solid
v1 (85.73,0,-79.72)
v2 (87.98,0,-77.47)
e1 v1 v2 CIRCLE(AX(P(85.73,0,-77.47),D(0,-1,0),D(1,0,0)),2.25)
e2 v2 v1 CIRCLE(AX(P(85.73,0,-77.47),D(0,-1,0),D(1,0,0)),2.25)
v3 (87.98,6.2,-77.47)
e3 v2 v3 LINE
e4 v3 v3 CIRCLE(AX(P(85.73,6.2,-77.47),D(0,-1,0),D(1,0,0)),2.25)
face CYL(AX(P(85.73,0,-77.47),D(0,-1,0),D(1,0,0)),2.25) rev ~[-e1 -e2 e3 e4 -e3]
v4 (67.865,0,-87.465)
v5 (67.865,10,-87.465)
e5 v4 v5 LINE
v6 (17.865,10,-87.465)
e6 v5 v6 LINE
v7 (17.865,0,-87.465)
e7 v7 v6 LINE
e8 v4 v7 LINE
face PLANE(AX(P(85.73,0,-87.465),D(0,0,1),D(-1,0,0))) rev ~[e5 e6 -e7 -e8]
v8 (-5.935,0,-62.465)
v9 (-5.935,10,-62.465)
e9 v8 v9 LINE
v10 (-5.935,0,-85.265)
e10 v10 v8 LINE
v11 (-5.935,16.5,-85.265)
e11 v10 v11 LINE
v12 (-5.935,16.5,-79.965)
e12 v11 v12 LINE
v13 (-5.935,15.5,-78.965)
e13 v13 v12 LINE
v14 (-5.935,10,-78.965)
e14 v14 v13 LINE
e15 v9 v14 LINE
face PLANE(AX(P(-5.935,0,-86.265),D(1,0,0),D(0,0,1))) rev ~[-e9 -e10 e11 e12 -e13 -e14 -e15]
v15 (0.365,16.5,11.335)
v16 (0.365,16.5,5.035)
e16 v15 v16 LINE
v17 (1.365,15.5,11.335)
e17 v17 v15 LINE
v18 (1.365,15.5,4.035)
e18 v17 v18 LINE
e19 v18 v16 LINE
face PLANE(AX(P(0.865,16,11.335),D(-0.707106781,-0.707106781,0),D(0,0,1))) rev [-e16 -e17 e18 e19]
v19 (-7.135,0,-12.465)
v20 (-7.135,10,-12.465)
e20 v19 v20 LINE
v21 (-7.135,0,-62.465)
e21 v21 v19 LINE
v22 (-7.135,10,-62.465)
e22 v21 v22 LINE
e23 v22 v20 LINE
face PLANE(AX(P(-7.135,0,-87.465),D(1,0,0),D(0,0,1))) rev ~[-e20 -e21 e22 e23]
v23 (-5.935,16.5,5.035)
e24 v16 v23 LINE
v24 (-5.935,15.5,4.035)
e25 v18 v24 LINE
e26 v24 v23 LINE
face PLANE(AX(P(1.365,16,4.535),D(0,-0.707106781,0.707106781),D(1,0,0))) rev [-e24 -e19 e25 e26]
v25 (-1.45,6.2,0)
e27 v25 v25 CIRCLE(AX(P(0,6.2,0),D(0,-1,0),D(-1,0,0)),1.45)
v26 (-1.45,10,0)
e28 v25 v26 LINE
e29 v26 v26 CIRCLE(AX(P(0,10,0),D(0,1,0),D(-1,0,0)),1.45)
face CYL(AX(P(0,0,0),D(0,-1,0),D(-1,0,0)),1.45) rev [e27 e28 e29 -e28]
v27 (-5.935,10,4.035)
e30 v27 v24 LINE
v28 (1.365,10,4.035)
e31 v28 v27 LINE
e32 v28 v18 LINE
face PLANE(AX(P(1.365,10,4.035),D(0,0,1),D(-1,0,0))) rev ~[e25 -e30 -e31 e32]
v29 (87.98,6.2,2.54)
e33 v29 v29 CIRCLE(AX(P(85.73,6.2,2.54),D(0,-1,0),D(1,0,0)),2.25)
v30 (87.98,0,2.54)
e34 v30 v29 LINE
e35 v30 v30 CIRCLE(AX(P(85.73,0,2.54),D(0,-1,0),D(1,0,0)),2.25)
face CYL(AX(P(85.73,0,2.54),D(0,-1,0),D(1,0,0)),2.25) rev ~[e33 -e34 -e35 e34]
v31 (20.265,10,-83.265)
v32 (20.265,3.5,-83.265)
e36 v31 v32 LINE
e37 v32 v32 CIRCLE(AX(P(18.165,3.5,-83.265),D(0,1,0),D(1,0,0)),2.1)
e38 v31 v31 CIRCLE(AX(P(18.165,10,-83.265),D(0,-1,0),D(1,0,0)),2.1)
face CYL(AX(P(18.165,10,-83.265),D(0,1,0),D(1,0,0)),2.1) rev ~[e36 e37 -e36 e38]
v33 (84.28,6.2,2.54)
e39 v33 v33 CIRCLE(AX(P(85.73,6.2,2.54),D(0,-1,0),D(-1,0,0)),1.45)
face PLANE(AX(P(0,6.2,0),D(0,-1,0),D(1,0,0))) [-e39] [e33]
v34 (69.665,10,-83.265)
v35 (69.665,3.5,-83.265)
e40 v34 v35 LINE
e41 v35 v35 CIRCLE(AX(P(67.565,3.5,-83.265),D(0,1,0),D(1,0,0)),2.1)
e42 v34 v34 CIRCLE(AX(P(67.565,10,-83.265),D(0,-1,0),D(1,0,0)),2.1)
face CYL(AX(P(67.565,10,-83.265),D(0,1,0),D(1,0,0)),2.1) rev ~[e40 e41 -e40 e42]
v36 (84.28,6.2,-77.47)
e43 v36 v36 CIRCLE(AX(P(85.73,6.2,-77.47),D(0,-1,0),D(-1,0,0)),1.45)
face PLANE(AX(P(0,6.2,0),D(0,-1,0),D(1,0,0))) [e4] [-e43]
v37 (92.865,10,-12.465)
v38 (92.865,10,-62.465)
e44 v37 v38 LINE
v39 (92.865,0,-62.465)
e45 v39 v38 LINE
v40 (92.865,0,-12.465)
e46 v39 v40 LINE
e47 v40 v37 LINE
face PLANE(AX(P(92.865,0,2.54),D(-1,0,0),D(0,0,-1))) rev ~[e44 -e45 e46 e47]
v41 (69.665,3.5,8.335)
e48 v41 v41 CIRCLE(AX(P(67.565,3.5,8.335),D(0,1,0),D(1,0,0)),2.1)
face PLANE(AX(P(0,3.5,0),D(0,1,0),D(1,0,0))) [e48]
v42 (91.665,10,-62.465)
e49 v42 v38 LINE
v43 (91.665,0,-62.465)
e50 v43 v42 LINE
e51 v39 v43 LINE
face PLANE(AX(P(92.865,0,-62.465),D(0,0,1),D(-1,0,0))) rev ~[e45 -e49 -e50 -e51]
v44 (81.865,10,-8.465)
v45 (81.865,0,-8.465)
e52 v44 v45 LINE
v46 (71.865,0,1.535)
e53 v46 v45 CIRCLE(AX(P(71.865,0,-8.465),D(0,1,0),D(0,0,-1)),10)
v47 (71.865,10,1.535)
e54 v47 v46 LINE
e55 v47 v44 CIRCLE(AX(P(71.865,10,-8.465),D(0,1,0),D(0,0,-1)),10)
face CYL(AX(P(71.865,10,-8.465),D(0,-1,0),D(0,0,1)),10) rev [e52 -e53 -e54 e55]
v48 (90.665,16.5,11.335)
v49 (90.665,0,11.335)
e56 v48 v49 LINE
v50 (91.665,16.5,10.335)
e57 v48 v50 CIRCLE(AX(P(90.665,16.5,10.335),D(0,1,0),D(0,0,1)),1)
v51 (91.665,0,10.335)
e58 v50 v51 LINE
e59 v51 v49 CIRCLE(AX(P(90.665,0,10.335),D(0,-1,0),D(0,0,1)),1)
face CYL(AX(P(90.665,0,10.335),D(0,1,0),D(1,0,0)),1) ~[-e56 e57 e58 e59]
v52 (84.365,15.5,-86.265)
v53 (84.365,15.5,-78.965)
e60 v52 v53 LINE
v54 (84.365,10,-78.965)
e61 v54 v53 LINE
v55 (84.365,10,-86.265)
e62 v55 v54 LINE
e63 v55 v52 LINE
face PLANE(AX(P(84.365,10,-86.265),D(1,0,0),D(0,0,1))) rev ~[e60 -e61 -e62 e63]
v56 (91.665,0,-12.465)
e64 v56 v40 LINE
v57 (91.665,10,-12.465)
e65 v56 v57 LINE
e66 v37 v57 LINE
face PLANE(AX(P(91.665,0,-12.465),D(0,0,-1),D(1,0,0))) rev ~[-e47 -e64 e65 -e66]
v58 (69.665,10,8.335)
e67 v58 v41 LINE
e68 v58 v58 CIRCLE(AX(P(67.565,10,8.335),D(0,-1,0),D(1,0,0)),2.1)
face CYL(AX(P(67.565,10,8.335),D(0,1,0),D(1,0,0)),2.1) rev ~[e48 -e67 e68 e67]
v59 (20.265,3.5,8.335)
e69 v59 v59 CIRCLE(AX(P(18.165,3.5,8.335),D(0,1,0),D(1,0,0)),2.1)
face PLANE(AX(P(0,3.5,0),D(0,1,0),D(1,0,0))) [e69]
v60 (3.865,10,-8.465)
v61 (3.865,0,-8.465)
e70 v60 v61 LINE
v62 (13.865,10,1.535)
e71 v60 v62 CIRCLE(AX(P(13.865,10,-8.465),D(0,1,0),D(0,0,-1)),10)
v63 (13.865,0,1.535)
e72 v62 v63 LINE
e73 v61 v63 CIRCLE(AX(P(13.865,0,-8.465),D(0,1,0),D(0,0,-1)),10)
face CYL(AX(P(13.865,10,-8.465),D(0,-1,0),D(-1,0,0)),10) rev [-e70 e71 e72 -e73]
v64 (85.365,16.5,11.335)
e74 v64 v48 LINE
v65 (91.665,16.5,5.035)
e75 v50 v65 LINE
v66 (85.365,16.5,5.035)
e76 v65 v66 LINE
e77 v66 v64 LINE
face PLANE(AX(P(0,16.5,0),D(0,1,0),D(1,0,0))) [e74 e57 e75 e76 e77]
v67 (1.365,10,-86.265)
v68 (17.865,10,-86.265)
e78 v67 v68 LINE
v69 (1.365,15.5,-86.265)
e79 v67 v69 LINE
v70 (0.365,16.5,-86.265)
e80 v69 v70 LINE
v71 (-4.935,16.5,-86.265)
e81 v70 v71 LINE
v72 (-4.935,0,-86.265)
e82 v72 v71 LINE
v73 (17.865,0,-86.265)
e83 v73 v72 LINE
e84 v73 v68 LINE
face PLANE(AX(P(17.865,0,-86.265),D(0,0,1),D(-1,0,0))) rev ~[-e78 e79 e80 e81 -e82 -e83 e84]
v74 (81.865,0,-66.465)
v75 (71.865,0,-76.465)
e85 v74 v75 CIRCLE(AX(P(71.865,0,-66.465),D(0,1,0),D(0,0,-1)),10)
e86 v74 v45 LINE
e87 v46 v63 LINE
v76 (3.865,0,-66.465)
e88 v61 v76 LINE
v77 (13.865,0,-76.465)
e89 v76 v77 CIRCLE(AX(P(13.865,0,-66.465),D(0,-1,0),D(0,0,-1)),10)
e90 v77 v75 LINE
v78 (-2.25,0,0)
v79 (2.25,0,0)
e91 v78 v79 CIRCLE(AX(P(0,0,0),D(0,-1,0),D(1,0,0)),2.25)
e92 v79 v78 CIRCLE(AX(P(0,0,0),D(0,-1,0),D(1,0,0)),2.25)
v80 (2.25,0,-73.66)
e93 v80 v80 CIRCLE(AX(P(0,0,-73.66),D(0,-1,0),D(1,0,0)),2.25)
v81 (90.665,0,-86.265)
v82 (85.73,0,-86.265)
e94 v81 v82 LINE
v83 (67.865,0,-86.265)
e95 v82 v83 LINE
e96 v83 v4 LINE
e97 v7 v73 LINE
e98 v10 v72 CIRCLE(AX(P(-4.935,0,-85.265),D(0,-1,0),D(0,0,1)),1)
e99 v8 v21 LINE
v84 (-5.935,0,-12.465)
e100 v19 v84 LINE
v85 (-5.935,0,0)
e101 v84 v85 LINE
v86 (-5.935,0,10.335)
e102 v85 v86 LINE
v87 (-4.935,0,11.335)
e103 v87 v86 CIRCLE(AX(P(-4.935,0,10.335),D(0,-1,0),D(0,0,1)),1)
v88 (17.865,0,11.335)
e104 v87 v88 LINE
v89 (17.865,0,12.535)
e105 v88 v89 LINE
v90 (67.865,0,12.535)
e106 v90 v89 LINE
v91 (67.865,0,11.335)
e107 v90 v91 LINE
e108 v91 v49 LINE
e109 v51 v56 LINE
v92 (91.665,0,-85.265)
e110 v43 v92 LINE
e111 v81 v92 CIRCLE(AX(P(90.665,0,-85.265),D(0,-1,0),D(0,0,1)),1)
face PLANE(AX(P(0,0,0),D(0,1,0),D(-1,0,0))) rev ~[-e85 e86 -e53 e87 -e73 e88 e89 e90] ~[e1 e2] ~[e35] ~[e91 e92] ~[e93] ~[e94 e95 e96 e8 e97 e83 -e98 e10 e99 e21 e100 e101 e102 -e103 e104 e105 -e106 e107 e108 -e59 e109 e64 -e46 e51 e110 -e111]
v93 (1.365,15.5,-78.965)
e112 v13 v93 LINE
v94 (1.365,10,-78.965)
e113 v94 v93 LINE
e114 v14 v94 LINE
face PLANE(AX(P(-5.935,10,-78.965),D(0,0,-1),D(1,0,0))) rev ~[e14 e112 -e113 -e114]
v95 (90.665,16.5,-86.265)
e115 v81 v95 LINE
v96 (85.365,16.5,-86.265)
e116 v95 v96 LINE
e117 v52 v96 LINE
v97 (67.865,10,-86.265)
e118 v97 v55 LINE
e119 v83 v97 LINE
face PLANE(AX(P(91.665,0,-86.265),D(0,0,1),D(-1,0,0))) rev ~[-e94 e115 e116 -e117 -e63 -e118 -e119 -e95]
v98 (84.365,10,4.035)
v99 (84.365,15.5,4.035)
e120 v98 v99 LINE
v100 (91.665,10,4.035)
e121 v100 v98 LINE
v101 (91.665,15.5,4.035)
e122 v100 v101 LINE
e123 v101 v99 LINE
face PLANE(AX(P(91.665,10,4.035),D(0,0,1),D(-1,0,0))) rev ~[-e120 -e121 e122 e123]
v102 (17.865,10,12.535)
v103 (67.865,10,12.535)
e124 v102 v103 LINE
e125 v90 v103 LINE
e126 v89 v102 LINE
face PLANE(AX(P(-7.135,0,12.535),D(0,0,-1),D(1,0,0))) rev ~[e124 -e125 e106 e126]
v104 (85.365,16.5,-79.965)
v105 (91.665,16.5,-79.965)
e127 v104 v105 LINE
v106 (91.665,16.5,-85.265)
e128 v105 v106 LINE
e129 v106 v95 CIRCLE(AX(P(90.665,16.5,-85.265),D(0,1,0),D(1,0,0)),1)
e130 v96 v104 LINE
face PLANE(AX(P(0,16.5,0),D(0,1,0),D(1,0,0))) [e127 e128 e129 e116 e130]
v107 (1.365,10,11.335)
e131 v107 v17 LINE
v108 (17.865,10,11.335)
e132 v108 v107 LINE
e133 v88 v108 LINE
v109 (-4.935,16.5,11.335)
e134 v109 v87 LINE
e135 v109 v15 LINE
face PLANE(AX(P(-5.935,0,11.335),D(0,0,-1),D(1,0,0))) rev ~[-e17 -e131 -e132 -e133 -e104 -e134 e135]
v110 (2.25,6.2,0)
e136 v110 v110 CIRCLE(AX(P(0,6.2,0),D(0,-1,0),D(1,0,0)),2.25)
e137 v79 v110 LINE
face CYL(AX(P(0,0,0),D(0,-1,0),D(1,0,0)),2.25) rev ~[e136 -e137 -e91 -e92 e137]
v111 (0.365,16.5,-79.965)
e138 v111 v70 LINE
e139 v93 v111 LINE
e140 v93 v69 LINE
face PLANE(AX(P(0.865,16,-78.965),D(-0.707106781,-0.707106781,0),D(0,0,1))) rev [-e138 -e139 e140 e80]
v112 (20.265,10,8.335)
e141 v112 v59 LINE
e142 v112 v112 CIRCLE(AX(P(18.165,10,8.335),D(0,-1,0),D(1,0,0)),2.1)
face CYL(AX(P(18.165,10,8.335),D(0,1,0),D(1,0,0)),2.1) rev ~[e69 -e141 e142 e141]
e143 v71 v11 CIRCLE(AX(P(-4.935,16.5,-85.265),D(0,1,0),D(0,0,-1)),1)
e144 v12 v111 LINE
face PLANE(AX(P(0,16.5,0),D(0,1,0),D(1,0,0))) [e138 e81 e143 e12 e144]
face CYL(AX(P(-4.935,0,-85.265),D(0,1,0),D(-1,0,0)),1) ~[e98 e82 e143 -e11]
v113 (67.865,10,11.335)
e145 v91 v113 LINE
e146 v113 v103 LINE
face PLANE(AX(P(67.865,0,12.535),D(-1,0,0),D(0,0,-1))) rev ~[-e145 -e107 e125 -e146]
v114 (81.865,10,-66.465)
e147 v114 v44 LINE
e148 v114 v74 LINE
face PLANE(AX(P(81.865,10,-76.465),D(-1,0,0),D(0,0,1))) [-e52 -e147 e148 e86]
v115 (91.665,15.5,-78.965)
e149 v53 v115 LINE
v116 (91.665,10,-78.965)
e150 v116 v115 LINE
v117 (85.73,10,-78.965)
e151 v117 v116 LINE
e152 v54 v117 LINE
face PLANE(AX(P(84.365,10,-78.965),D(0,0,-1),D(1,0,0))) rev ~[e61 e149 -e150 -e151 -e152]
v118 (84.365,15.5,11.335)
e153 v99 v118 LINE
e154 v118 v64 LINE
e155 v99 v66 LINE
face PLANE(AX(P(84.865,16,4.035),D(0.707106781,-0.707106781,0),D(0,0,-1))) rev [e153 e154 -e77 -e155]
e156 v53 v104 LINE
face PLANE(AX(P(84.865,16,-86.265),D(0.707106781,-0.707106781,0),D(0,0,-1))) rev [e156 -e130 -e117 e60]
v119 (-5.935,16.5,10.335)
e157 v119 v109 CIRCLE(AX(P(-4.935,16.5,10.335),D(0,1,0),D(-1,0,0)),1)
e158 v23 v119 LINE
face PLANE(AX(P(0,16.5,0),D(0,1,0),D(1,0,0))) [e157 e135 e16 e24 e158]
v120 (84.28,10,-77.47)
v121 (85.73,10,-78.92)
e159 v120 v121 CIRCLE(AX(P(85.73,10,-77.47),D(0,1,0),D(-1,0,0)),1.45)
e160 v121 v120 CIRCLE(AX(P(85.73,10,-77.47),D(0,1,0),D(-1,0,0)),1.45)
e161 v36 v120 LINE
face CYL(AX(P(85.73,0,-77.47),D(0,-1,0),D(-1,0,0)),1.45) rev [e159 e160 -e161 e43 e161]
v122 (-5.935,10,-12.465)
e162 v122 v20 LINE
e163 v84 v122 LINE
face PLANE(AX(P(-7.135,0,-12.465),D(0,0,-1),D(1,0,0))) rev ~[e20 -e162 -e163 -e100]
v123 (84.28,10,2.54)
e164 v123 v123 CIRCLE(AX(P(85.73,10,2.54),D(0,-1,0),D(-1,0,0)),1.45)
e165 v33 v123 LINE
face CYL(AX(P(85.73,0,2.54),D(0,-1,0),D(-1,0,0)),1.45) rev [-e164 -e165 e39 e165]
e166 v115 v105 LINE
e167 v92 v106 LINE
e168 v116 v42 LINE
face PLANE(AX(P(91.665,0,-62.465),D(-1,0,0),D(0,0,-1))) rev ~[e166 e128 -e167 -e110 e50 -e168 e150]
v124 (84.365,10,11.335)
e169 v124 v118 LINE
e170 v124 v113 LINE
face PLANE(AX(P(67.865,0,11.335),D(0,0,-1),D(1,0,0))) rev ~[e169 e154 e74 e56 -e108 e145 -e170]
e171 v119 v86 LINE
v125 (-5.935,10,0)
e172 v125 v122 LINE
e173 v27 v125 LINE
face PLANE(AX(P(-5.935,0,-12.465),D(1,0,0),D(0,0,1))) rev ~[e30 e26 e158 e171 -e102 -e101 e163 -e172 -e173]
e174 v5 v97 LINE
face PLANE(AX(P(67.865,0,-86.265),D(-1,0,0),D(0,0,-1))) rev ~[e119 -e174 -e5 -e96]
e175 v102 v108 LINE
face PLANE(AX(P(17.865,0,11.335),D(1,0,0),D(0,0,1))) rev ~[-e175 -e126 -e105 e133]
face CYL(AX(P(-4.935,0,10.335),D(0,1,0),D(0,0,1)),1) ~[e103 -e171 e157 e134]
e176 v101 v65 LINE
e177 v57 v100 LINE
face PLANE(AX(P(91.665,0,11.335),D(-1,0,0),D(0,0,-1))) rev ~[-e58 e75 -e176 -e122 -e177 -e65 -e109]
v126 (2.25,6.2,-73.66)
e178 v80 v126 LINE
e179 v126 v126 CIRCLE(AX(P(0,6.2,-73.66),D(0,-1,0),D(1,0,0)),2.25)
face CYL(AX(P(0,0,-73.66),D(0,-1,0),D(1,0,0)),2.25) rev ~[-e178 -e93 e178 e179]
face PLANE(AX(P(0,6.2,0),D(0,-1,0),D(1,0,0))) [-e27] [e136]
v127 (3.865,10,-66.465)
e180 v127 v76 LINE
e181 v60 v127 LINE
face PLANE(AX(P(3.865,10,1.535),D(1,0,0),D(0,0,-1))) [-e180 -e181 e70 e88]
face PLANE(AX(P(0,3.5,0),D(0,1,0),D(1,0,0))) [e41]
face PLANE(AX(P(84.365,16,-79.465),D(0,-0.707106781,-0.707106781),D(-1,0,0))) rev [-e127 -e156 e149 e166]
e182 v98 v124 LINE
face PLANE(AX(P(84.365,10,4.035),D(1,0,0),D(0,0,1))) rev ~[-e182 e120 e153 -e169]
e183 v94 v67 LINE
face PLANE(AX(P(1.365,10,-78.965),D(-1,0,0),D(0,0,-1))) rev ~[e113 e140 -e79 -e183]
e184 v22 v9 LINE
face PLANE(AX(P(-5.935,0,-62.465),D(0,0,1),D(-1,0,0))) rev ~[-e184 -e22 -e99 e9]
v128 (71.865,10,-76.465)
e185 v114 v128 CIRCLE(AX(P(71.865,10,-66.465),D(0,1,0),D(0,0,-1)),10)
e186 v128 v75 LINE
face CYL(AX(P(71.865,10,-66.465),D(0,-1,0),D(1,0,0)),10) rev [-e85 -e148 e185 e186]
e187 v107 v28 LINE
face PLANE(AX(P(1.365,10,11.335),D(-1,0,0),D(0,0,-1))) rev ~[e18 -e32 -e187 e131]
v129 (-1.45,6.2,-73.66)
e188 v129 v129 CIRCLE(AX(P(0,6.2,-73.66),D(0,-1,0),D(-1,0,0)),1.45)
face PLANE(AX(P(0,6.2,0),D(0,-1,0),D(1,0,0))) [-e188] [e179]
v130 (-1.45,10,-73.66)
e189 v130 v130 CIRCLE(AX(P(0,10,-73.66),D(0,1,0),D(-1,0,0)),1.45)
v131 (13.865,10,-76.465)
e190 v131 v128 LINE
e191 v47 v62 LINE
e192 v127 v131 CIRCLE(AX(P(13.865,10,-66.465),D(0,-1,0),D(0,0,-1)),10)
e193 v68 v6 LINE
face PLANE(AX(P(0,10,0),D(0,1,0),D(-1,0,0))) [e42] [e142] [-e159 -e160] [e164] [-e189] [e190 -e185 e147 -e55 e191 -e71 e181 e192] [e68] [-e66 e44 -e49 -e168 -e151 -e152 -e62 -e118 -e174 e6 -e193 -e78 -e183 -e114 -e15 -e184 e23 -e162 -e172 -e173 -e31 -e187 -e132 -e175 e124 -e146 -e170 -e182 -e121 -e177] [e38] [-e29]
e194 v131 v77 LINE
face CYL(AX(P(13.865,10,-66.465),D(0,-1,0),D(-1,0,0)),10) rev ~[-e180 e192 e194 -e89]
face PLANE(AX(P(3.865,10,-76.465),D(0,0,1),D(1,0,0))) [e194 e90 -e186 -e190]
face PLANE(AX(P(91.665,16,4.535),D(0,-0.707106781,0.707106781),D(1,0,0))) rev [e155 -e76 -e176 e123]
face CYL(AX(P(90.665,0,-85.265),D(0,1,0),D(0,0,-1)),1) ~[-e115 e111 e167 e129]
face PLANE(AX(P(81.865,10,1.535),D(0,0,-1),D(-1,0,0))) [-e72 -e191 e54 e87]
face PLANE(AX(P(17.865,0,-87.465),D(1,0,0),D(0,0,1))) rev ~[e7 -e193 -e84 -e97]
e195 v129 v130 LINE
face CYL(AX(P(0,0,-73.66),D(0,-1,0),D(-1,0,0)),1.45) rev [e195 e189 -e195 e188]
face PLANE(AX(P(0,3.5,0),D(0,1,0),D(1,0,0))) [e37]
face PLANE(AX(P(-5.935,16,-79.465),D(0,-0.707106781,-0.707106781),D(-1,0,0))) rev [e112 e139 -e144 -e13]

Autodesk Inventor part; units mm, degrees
ref_plane "YZ Plane" through (0, 0, 0) normal (1, 0, 0) x (0, 1, 0)
ref_plane "XZ Plane" through (0, 0, 0) normal (0, 1, 0) x (-1, 0, 0)
ref_plane "XY Plane" through (0, 0, 0) normal (0, 0, 1) x (1, 0, 0)
sketch "Sketch1" plane through (0, 0, 0) normal (0, 1, 0) x (-1, 0, 0)
  circle A0 centre (0, 0) radius 1.45
  circle A1 centre (0, -73.66) radius 1.45
  circle A2 centre (-85.73, -77.47) radius 1.45
  circle A3 centre (-85.73, 2.54) radius 1.45
  line L0 (7.135, 12.535) -> (-92.865, 12.535)
  line L1 (-92.865, 12.535) -> (-92.865, -87.465)
  line L2 (-92.865, -87.465) -> (7.135, -87.465)
  line L3 (7.135, -87.465) -> (7.135, 12.535)
  line L4 (0, 0) -> (7.135, 0)
  line L5 (-85.73, 2.54) -> (-92.865, 2.54)
  line L6 (-85.73, -77.47) -> (-85.73, -87.465)
  line L7 (-85.73, 2.54) -> (-85.73, 12.535)
  point P0 (0, 0)
  dimension "d0" = 73.66
  dimension "d1" = 80.01
  dimension "d2" = 85.73
  dimension "d3" = 2.54
  dimension "d4" = 3.81
  dimension "d6" = 2.9
  dimension "d7" = 100
  dimension "d8" = 100
extrude "Extrusion1" add sketch "Sketch1" along normal blind 10 contours L3 L2 L1 L5 A3 L7 L0 | L7 A3 L5 L1 L0
sketch "Sketch4" plane through (0, 0, 0) normal (0, -1, 0) x (1, 0, 0)
  line L0 (92.865, -87.465) -> (-7.135, -87.465) projected
  line L1 (92.865, 12.535) -> (92.865, -87.465) projected
  line L2 (-7.135, 12.535) -> (92.865, 12.535) projected
  line L3 (-7.135, -87.465) -> (-7.135, 12.535) projected
  circle A0 centre (85.73, 2.54) radius 1.45 projected
  circle A1 centre (0, 0) radius 1.45 projected
  circle A2 centre (85.73, -77.47) radius 1.45 projected
  circle A3 centre (0, -73.66) radius 1.45 projected
  circle A4 centre (0, 0) radius 2.25
  circle A5 centre (0, -73.66) radius 2.25
  circle A6 centre (85.73, -77.47) radius 2.25
  circle A7 centre (85.73, 2.54) radius 2.25
  point P0 (0, 0)
  dimension "d13" = 4.5
  dimension "d14" = 4.5
  dimension "d15" = 4.5
  dimension "d16" = 4.5
extrude "Extrusion2" cut sketch "Sketch4" against normal blind 6.2 contours A0 | A1 | A2 | A3 | A4 | A5 | A6 | A7
sketch "Sketch5" plane through (0, 0, 0) normal (0, -1, 0) x (1, 0, 0)
  circle A0 centre (85.73, 2.54) radius 2.25 projected
  circle A1 centre (0, 0) radius 2.25 projected
  circle A2 centre (85.73, -77.47) radius 2.25 projected
  circle A3 centre (0, -73.66) radius 2.25 projected
  line L0 (92.865, -87.465) -> (-7.135, -87.465) projected
  line L1 (92.865, 12.535) -> (92.865, -87.465) projected
  line L2 (-7.135, 12.535) -> (92.865, 12.535) projected
  line L3 (-7.135, -87.465) -> (-7.135, 12.535) projected
  line L4 (-7.135, -87.465) -> (92.865, 12.535)
  line L5 (-7.135, -12.465) -> (-5.935, -12.465)
  line L6 (-5.935, -12.465) -> (-5.935, 11.335)
  line L7 (-5.935, 11.335) -> (17.865, 11.335)
  line L8 (17.865, 11.335) -> (17.865, 12.535)
  line L9 (-7.135, 12.535) -> (92.865, 12.535) projected
  line L10 (17.865, -86.265) -> (-5.935, -86.265)
  line L11 (-5.935, -62.465) -> (-7.135, -62.465)
  line L12 (-5.935, -86.265) -> (-5.935, -62.465)
  line L13 (17.865, -87.465) -> (17.865, -86.265)
  line L14 (91.665, -62.465) -> (91.665, -86.265)
  line L15 (67.865, -86.265) -> (67.865, -87.465)
  line L16 (91.665, -86.265) -> (67.865, -86.265)
  line L17 (92.865, -62.465) -> (91.665, -62.465)
  line L18 (67.865, 11.335) -> (91.665, 11.335)
  line L19 (91.665, -12.465) -> (92.865, -12.465)
  line L20 (91.665, 11.335) -> (91.665, -12.465)
  line L21 (67.865, 12.535) -> (67.865, 11.335)
  point P0 (0, 0)
  point P1 (42.865, -37.465)
  point P2 (17.865, 12.535)
  point P3 (17.865, -87.465)
  point P4 (-7.135, -62.465)
  point P5 (67.865, -87.465)
  point P6 (92.865, -62.465)
  point P7 (67.865, 12.535)
  point P8 (92.865, -12.465)
  dimension "d19" = 1.2
  dimension "d20" = 1.2
  dimension "d21" = 25
  dimension "d22" = 25
  dimension "d27" = 360
extrude "Extrusion3" cut sketch "Sketch5" along normal through all both and the other way through all contours L18 L21 L2 L4 | L4 L1 L19 L20 | L10 L13 L0 L4 | L4 L3 L11 L12 | L1 L0 L15 L16 L14 L17 | L8 L7 L6 L5 L3 L2
fillet "Fillet1" radius 1 4 edges at (-5.935, 5, -86.265) (91.665, 5, -86.265) (-5.935, 5, 11.335) (91.665, 5, 11.335)
sketch "Sketch6" plane through (0, 10, 0) normal (0, 1, 0) x (1, 0, 0)
  arc A0 (90.665, -11.335) -> (91.665, -10.335) centre (90.665, -10.335) ccw projected
  line L0 (91.665, -10.335) -> (91.665, 12.465) projected
  line L1 (91.665, 12.465) -> (92.865, 12.465) projected
  line L2 (92.865, 12.465) -> (92.865, 62.465) projected
  line L3 (92.865, 62.465) -> (91.665, 62.465) projected
  line L4 (91.665, 62.465) -> (91.665, 85.265) projected
  arc A1 (91.665, 85.265) -> (90.665, 86.265) centre (90.665, 85.265) ccw projected
  line L5 (90.665, 86.265) -> (67.865, 86.265) projected
  line L6 (67.865, 86.265) -> (67.865, 87.465) projected
  line L7 (67.865, 87.465) -> (17.865, 87.465) projected
  line L8 (17.865, 87.465) -> (17.865, 86.265) projected
  line L9 (17.865, 86.265) -> (-4.935, 86.265) projected
  arc A2 (-4.935, 86.265) -> (-5.935, 85.265) centre (-4.935, 85.265) ccw projected
  line L10 (-5.935, 85.265) -> (-5.935, 62.465) projected
  line L11 (-5.935, 62.465) -> (-7.135, 62.465) projected
  line L12 (-7.135, 62.465) -> (-7.135, 12.465) projected
  line L13 (-7.135, 12.465) -> (-5.935, 12.465) projected
  line L14 (-5.935, 12.465) -> (-5.935, -10.335) projected
  arc A3 (-5.935, -10.335) -> (-4.935, -11.335) centre (-4.935, -10.335) ccw projected
  line L15 (-4.935, -11.335) -> (17.865, -11.335) projected
  line L16 (17.865, -11.335) -> (17.865, -12.535) projected
  line L17 (17.865, -12.535) -> (67.865, -12.535) projected
  line L18 (67.865, -12.535) -> (67.865, -11.335) projected
  line L19 (67.865, -11.335) -> (90.665, -11.335) projected
  circle A4 centre (0, 73.66) radius 1.45 projected
  circle A5 centre (85.73, 77.47) radius 1.45 projected
  circle A6 centre (0, 0) radius 1.45 projected
  circle A7 centre (85.73, -2.54) radius 1.45 projected
  line L20 (-5.935, -11.335) -> (1.365, -11.335)
  line L21 (1.365, -11.335) -> (1.365, -4.035)
  line L22 (1.365, -4.035) -> (-5.935, -4.035)
  line L23 (-5.935, -4.035) -> (-5.935, -11.335)
  line L24 (-7.135, 62.465) -> (-7.135, 12.465) projected
  line L25 (-7.135, 37.465) -> (92.865, 37.465)
  line L26 (92.865, 12.465) -> (92.865, 62.465) projected
  line L27 (84.365, -11.335) -> (91.665, -11.335)
  line L28 (84.365, -4.035) -> (84.365, -11.335)
  line L29 (91.665, -4.035) -> (84.365, -4.035)
  line L30 (91.665, -11.335) -> (91.665, -4.035)
  line L31 (91.665, 78.965) -> (91.665, 86.265)
  line L32 (84.365, 78.965) -> (91.665, 78.965)
  line L33 (84.365, 86.265) -> (84.365, 78.965)
  line L34 (91.665, 86.265) -> (84.365, 86.265)
  line L35 (1.365, 86.265) -> (-5.935, 86.265)
  line L36 (1.365, 78.965) -> (1.365, 86.265)
  line L37 (-5.935, 78.965) -> (1.365, 78.965)
  line L38 (-5.935, 86.265) -> (-5.935, 78.965)
  point P0 (0, 0)
  point P1 (-5.935, -4.035)
  point P2 (1.365, -11.335)
  point P3 (42.865, 37.465)
  point P4 (-5.935, 78.965)
  point P5 (84.365, 86.265)
  point P6 (85.6076, 78.965)
  point P7 (85.8524, 78.965)
  point P8 (91.665, 78.965)
  point P9 (91.665, -4.035)
  point P10 (84.365, -11.335)
  dimension "d30" = 7.3
  dimension "d31" = 7.3
  dimension "d39" = 360
extrude "Extrusion4" add sketch "Sketch6" along normal blind 6.5 contours L19 L28 L29 L0 A0 | L15 A3 L14 L22 L21 | L32 L33 L5 A1 L4 | L10 A2 L9 L36 L37
chamfer "Chamfer1" distance 1 angle 45 8 edges at (-2.285, 16.5, 4.035) (1.365, 16.5, 7.685) (1.365, 16.5, -82.615) (-2.285, 16.5, -78.965) (84.365, 16.5, -82.615) (88.015, 16.5, -78.965) (88.015, 16.5, 4.035) (84.365, 16.5, 7.685)
sketch "Sketch7" plane through (0, 10, 0) normal (0, 1, 0) x (1, 0, 0)
  circle A0 centre (85.73, -2.54) radius 1.45 projected
  circle A1 centre (0, 0) radius 1.45 projected
  circle A2 centre (85.73, 77.47) radius 1.45 projected
  circle A3 centre (0, 73.66) radius 1.45 projected
  line L0 (1.365, 86.265) -> (1.365, 78.965) projected
  line L1 (1.365, 78.965) -> (-5.935, 78.965) projected
  line L2 (-5.935, 78.965) -> (-5.935, 62.465) projected
  line L3 (-5.935, 62.465) -> (-7.135, 62.465) projected
  line L4 (-7.135, 62.465) -> (-7.135, 12.465) projected
  line L5 (-7.135, 12.465) -> (-5.935, 12.465) projected
  line L6 (-5.935, 12.465) -> (-5.935, -4.035) projected
  line L7 (-5.935, -4.035) -> (1.365, -4.035) projected
  line L8 (1.365, -4.035) -> (1.365, -11.335) projected
  line L9 (1.365, -11.335) -> (17.865, -11.335) projected
  line L10 (17.865, -11.335) -> (17.865, -12.535) projected
  line L11 (17.865, -12.535) -> (67.865, -12.535) projected
  line L12 (67.865, -12.535) -> (67.865, -11.335) projected
  line L13 (67.865, -11.335) -> (84.365, -11.335) projected
  line L14 (84.365, -11.335) -> (84.365, -4.035) projected
  line L15 (84.365, -4.035) -> (91.665, -4.035) projected
  line L16 (91.665, -4.035) -> (91.665, 12.465) projected
  line L17 (91.665, 12.465) -> (92.865, 12.465) projected
  line L18 (92.865, 12.465) -> (92.865, 62.465) projected
  line L19 (92.865, 62.465) -> (91.665, 62.465) projected
  line L20 (91.665, 62.465) -> (91.665, 78.965) projected
  line L21 (91.665, 78.965) -> (84.365, 78.965) projected
  line L22 (84.365, 78.965) -> (84.365, 86.265) projected
  line L23 (84.365, 86.265) -> (67.865, 86.265) projected
  line L24 (67.865, 86.265) -> (67.865, 87.465) projected
  line L25 (67.865, 87.465) -> (17.865, 87.465) projected
  line L26 (17.865, 87.465) -> (17.865, 86.265) projected
  line L27 (17.865, 86.265) -> (1.365, 86.265) projected
  line L28 (3.865, 76.465) -> (81.865, 76.465)
  line L29 (81.865, 76.465) -> (81.865, -1.535)
  line L30 (81.865, -1.535) -> (3.865, -1.535)
  line L31 (3.865, -1.535) -> (3.865, 76.465)
  point P0 (0, 0)
  dimension "d50" = 11
  dimension "d51" = 11
  dimension "d52" = 11
  dimension "d53" = 11
extrude "Extrusion5" cut sketch "Sketch7" against normal blind 10 contours L28 L29 L30 L31
fillet "Fillet2" radius 10 4 edges at (3.865, 5, -76.465) (81.865, 5, -76.465) (81.865, 5, 1.535) (3.865, 5, 1.535)
sketch "Sketch8" plane through (0, 10, 0) normal (0, 1, 0) x (1, 0, 0)
  line L0 (17.865, -12.535) -> (67.865, -12.535) projected
  line L1 (42.865, -12.535) -> (42.865, 87.465)
  line L2 (67.865, 87.465) -> (17.865, 87.465) projected
  line L3 (67.565, 83.265) -> (18.165, 83.265)
  line L4 (18.165, 83.265) -> (18.165, -8.335)
  line L5 (18.165, -8.335) -> (67.565, -8.335)
  line L6 (67.565, -8.335) -> (67.565, 83.265)
  line L7 (67.565, 83.265) -> (18.165, -8.335) construction
  line L8 (18.165, 83.265) -> (67.565, -8.335) construction
  circle A0 centre (18.165, 83.265) radius 2.1
  circle A1 centre (18.165, -8.335) radius 2.1
  circle A2 centre (67.565, -8.335) radius 2.1
  circle A3 centre (67.565, 83.265) radius 2.1
  point P0 (0, 0)
  point P1 (42.865, 37.465)
  dimension "d57" = 49.4
  dimension "d58" = 91.6
  dimension "d59" = 4.2
  dimension "d60" = 4.2
  dimension "d61" = 4.2
  dimension "d62" = 4.2
extrude "Extrusion6" cut sketch "Sketch8" against normal blind 6.5 contours A1 L4 L5 | L5 L4 A1 | A2 L6 L5 | L5 L6 A2 | A3 L6 L3 | L3 L6 A3 | A0 L4 L3 | L3 L4 A0
properties part number "TopSide" material "ABS Plastic"
